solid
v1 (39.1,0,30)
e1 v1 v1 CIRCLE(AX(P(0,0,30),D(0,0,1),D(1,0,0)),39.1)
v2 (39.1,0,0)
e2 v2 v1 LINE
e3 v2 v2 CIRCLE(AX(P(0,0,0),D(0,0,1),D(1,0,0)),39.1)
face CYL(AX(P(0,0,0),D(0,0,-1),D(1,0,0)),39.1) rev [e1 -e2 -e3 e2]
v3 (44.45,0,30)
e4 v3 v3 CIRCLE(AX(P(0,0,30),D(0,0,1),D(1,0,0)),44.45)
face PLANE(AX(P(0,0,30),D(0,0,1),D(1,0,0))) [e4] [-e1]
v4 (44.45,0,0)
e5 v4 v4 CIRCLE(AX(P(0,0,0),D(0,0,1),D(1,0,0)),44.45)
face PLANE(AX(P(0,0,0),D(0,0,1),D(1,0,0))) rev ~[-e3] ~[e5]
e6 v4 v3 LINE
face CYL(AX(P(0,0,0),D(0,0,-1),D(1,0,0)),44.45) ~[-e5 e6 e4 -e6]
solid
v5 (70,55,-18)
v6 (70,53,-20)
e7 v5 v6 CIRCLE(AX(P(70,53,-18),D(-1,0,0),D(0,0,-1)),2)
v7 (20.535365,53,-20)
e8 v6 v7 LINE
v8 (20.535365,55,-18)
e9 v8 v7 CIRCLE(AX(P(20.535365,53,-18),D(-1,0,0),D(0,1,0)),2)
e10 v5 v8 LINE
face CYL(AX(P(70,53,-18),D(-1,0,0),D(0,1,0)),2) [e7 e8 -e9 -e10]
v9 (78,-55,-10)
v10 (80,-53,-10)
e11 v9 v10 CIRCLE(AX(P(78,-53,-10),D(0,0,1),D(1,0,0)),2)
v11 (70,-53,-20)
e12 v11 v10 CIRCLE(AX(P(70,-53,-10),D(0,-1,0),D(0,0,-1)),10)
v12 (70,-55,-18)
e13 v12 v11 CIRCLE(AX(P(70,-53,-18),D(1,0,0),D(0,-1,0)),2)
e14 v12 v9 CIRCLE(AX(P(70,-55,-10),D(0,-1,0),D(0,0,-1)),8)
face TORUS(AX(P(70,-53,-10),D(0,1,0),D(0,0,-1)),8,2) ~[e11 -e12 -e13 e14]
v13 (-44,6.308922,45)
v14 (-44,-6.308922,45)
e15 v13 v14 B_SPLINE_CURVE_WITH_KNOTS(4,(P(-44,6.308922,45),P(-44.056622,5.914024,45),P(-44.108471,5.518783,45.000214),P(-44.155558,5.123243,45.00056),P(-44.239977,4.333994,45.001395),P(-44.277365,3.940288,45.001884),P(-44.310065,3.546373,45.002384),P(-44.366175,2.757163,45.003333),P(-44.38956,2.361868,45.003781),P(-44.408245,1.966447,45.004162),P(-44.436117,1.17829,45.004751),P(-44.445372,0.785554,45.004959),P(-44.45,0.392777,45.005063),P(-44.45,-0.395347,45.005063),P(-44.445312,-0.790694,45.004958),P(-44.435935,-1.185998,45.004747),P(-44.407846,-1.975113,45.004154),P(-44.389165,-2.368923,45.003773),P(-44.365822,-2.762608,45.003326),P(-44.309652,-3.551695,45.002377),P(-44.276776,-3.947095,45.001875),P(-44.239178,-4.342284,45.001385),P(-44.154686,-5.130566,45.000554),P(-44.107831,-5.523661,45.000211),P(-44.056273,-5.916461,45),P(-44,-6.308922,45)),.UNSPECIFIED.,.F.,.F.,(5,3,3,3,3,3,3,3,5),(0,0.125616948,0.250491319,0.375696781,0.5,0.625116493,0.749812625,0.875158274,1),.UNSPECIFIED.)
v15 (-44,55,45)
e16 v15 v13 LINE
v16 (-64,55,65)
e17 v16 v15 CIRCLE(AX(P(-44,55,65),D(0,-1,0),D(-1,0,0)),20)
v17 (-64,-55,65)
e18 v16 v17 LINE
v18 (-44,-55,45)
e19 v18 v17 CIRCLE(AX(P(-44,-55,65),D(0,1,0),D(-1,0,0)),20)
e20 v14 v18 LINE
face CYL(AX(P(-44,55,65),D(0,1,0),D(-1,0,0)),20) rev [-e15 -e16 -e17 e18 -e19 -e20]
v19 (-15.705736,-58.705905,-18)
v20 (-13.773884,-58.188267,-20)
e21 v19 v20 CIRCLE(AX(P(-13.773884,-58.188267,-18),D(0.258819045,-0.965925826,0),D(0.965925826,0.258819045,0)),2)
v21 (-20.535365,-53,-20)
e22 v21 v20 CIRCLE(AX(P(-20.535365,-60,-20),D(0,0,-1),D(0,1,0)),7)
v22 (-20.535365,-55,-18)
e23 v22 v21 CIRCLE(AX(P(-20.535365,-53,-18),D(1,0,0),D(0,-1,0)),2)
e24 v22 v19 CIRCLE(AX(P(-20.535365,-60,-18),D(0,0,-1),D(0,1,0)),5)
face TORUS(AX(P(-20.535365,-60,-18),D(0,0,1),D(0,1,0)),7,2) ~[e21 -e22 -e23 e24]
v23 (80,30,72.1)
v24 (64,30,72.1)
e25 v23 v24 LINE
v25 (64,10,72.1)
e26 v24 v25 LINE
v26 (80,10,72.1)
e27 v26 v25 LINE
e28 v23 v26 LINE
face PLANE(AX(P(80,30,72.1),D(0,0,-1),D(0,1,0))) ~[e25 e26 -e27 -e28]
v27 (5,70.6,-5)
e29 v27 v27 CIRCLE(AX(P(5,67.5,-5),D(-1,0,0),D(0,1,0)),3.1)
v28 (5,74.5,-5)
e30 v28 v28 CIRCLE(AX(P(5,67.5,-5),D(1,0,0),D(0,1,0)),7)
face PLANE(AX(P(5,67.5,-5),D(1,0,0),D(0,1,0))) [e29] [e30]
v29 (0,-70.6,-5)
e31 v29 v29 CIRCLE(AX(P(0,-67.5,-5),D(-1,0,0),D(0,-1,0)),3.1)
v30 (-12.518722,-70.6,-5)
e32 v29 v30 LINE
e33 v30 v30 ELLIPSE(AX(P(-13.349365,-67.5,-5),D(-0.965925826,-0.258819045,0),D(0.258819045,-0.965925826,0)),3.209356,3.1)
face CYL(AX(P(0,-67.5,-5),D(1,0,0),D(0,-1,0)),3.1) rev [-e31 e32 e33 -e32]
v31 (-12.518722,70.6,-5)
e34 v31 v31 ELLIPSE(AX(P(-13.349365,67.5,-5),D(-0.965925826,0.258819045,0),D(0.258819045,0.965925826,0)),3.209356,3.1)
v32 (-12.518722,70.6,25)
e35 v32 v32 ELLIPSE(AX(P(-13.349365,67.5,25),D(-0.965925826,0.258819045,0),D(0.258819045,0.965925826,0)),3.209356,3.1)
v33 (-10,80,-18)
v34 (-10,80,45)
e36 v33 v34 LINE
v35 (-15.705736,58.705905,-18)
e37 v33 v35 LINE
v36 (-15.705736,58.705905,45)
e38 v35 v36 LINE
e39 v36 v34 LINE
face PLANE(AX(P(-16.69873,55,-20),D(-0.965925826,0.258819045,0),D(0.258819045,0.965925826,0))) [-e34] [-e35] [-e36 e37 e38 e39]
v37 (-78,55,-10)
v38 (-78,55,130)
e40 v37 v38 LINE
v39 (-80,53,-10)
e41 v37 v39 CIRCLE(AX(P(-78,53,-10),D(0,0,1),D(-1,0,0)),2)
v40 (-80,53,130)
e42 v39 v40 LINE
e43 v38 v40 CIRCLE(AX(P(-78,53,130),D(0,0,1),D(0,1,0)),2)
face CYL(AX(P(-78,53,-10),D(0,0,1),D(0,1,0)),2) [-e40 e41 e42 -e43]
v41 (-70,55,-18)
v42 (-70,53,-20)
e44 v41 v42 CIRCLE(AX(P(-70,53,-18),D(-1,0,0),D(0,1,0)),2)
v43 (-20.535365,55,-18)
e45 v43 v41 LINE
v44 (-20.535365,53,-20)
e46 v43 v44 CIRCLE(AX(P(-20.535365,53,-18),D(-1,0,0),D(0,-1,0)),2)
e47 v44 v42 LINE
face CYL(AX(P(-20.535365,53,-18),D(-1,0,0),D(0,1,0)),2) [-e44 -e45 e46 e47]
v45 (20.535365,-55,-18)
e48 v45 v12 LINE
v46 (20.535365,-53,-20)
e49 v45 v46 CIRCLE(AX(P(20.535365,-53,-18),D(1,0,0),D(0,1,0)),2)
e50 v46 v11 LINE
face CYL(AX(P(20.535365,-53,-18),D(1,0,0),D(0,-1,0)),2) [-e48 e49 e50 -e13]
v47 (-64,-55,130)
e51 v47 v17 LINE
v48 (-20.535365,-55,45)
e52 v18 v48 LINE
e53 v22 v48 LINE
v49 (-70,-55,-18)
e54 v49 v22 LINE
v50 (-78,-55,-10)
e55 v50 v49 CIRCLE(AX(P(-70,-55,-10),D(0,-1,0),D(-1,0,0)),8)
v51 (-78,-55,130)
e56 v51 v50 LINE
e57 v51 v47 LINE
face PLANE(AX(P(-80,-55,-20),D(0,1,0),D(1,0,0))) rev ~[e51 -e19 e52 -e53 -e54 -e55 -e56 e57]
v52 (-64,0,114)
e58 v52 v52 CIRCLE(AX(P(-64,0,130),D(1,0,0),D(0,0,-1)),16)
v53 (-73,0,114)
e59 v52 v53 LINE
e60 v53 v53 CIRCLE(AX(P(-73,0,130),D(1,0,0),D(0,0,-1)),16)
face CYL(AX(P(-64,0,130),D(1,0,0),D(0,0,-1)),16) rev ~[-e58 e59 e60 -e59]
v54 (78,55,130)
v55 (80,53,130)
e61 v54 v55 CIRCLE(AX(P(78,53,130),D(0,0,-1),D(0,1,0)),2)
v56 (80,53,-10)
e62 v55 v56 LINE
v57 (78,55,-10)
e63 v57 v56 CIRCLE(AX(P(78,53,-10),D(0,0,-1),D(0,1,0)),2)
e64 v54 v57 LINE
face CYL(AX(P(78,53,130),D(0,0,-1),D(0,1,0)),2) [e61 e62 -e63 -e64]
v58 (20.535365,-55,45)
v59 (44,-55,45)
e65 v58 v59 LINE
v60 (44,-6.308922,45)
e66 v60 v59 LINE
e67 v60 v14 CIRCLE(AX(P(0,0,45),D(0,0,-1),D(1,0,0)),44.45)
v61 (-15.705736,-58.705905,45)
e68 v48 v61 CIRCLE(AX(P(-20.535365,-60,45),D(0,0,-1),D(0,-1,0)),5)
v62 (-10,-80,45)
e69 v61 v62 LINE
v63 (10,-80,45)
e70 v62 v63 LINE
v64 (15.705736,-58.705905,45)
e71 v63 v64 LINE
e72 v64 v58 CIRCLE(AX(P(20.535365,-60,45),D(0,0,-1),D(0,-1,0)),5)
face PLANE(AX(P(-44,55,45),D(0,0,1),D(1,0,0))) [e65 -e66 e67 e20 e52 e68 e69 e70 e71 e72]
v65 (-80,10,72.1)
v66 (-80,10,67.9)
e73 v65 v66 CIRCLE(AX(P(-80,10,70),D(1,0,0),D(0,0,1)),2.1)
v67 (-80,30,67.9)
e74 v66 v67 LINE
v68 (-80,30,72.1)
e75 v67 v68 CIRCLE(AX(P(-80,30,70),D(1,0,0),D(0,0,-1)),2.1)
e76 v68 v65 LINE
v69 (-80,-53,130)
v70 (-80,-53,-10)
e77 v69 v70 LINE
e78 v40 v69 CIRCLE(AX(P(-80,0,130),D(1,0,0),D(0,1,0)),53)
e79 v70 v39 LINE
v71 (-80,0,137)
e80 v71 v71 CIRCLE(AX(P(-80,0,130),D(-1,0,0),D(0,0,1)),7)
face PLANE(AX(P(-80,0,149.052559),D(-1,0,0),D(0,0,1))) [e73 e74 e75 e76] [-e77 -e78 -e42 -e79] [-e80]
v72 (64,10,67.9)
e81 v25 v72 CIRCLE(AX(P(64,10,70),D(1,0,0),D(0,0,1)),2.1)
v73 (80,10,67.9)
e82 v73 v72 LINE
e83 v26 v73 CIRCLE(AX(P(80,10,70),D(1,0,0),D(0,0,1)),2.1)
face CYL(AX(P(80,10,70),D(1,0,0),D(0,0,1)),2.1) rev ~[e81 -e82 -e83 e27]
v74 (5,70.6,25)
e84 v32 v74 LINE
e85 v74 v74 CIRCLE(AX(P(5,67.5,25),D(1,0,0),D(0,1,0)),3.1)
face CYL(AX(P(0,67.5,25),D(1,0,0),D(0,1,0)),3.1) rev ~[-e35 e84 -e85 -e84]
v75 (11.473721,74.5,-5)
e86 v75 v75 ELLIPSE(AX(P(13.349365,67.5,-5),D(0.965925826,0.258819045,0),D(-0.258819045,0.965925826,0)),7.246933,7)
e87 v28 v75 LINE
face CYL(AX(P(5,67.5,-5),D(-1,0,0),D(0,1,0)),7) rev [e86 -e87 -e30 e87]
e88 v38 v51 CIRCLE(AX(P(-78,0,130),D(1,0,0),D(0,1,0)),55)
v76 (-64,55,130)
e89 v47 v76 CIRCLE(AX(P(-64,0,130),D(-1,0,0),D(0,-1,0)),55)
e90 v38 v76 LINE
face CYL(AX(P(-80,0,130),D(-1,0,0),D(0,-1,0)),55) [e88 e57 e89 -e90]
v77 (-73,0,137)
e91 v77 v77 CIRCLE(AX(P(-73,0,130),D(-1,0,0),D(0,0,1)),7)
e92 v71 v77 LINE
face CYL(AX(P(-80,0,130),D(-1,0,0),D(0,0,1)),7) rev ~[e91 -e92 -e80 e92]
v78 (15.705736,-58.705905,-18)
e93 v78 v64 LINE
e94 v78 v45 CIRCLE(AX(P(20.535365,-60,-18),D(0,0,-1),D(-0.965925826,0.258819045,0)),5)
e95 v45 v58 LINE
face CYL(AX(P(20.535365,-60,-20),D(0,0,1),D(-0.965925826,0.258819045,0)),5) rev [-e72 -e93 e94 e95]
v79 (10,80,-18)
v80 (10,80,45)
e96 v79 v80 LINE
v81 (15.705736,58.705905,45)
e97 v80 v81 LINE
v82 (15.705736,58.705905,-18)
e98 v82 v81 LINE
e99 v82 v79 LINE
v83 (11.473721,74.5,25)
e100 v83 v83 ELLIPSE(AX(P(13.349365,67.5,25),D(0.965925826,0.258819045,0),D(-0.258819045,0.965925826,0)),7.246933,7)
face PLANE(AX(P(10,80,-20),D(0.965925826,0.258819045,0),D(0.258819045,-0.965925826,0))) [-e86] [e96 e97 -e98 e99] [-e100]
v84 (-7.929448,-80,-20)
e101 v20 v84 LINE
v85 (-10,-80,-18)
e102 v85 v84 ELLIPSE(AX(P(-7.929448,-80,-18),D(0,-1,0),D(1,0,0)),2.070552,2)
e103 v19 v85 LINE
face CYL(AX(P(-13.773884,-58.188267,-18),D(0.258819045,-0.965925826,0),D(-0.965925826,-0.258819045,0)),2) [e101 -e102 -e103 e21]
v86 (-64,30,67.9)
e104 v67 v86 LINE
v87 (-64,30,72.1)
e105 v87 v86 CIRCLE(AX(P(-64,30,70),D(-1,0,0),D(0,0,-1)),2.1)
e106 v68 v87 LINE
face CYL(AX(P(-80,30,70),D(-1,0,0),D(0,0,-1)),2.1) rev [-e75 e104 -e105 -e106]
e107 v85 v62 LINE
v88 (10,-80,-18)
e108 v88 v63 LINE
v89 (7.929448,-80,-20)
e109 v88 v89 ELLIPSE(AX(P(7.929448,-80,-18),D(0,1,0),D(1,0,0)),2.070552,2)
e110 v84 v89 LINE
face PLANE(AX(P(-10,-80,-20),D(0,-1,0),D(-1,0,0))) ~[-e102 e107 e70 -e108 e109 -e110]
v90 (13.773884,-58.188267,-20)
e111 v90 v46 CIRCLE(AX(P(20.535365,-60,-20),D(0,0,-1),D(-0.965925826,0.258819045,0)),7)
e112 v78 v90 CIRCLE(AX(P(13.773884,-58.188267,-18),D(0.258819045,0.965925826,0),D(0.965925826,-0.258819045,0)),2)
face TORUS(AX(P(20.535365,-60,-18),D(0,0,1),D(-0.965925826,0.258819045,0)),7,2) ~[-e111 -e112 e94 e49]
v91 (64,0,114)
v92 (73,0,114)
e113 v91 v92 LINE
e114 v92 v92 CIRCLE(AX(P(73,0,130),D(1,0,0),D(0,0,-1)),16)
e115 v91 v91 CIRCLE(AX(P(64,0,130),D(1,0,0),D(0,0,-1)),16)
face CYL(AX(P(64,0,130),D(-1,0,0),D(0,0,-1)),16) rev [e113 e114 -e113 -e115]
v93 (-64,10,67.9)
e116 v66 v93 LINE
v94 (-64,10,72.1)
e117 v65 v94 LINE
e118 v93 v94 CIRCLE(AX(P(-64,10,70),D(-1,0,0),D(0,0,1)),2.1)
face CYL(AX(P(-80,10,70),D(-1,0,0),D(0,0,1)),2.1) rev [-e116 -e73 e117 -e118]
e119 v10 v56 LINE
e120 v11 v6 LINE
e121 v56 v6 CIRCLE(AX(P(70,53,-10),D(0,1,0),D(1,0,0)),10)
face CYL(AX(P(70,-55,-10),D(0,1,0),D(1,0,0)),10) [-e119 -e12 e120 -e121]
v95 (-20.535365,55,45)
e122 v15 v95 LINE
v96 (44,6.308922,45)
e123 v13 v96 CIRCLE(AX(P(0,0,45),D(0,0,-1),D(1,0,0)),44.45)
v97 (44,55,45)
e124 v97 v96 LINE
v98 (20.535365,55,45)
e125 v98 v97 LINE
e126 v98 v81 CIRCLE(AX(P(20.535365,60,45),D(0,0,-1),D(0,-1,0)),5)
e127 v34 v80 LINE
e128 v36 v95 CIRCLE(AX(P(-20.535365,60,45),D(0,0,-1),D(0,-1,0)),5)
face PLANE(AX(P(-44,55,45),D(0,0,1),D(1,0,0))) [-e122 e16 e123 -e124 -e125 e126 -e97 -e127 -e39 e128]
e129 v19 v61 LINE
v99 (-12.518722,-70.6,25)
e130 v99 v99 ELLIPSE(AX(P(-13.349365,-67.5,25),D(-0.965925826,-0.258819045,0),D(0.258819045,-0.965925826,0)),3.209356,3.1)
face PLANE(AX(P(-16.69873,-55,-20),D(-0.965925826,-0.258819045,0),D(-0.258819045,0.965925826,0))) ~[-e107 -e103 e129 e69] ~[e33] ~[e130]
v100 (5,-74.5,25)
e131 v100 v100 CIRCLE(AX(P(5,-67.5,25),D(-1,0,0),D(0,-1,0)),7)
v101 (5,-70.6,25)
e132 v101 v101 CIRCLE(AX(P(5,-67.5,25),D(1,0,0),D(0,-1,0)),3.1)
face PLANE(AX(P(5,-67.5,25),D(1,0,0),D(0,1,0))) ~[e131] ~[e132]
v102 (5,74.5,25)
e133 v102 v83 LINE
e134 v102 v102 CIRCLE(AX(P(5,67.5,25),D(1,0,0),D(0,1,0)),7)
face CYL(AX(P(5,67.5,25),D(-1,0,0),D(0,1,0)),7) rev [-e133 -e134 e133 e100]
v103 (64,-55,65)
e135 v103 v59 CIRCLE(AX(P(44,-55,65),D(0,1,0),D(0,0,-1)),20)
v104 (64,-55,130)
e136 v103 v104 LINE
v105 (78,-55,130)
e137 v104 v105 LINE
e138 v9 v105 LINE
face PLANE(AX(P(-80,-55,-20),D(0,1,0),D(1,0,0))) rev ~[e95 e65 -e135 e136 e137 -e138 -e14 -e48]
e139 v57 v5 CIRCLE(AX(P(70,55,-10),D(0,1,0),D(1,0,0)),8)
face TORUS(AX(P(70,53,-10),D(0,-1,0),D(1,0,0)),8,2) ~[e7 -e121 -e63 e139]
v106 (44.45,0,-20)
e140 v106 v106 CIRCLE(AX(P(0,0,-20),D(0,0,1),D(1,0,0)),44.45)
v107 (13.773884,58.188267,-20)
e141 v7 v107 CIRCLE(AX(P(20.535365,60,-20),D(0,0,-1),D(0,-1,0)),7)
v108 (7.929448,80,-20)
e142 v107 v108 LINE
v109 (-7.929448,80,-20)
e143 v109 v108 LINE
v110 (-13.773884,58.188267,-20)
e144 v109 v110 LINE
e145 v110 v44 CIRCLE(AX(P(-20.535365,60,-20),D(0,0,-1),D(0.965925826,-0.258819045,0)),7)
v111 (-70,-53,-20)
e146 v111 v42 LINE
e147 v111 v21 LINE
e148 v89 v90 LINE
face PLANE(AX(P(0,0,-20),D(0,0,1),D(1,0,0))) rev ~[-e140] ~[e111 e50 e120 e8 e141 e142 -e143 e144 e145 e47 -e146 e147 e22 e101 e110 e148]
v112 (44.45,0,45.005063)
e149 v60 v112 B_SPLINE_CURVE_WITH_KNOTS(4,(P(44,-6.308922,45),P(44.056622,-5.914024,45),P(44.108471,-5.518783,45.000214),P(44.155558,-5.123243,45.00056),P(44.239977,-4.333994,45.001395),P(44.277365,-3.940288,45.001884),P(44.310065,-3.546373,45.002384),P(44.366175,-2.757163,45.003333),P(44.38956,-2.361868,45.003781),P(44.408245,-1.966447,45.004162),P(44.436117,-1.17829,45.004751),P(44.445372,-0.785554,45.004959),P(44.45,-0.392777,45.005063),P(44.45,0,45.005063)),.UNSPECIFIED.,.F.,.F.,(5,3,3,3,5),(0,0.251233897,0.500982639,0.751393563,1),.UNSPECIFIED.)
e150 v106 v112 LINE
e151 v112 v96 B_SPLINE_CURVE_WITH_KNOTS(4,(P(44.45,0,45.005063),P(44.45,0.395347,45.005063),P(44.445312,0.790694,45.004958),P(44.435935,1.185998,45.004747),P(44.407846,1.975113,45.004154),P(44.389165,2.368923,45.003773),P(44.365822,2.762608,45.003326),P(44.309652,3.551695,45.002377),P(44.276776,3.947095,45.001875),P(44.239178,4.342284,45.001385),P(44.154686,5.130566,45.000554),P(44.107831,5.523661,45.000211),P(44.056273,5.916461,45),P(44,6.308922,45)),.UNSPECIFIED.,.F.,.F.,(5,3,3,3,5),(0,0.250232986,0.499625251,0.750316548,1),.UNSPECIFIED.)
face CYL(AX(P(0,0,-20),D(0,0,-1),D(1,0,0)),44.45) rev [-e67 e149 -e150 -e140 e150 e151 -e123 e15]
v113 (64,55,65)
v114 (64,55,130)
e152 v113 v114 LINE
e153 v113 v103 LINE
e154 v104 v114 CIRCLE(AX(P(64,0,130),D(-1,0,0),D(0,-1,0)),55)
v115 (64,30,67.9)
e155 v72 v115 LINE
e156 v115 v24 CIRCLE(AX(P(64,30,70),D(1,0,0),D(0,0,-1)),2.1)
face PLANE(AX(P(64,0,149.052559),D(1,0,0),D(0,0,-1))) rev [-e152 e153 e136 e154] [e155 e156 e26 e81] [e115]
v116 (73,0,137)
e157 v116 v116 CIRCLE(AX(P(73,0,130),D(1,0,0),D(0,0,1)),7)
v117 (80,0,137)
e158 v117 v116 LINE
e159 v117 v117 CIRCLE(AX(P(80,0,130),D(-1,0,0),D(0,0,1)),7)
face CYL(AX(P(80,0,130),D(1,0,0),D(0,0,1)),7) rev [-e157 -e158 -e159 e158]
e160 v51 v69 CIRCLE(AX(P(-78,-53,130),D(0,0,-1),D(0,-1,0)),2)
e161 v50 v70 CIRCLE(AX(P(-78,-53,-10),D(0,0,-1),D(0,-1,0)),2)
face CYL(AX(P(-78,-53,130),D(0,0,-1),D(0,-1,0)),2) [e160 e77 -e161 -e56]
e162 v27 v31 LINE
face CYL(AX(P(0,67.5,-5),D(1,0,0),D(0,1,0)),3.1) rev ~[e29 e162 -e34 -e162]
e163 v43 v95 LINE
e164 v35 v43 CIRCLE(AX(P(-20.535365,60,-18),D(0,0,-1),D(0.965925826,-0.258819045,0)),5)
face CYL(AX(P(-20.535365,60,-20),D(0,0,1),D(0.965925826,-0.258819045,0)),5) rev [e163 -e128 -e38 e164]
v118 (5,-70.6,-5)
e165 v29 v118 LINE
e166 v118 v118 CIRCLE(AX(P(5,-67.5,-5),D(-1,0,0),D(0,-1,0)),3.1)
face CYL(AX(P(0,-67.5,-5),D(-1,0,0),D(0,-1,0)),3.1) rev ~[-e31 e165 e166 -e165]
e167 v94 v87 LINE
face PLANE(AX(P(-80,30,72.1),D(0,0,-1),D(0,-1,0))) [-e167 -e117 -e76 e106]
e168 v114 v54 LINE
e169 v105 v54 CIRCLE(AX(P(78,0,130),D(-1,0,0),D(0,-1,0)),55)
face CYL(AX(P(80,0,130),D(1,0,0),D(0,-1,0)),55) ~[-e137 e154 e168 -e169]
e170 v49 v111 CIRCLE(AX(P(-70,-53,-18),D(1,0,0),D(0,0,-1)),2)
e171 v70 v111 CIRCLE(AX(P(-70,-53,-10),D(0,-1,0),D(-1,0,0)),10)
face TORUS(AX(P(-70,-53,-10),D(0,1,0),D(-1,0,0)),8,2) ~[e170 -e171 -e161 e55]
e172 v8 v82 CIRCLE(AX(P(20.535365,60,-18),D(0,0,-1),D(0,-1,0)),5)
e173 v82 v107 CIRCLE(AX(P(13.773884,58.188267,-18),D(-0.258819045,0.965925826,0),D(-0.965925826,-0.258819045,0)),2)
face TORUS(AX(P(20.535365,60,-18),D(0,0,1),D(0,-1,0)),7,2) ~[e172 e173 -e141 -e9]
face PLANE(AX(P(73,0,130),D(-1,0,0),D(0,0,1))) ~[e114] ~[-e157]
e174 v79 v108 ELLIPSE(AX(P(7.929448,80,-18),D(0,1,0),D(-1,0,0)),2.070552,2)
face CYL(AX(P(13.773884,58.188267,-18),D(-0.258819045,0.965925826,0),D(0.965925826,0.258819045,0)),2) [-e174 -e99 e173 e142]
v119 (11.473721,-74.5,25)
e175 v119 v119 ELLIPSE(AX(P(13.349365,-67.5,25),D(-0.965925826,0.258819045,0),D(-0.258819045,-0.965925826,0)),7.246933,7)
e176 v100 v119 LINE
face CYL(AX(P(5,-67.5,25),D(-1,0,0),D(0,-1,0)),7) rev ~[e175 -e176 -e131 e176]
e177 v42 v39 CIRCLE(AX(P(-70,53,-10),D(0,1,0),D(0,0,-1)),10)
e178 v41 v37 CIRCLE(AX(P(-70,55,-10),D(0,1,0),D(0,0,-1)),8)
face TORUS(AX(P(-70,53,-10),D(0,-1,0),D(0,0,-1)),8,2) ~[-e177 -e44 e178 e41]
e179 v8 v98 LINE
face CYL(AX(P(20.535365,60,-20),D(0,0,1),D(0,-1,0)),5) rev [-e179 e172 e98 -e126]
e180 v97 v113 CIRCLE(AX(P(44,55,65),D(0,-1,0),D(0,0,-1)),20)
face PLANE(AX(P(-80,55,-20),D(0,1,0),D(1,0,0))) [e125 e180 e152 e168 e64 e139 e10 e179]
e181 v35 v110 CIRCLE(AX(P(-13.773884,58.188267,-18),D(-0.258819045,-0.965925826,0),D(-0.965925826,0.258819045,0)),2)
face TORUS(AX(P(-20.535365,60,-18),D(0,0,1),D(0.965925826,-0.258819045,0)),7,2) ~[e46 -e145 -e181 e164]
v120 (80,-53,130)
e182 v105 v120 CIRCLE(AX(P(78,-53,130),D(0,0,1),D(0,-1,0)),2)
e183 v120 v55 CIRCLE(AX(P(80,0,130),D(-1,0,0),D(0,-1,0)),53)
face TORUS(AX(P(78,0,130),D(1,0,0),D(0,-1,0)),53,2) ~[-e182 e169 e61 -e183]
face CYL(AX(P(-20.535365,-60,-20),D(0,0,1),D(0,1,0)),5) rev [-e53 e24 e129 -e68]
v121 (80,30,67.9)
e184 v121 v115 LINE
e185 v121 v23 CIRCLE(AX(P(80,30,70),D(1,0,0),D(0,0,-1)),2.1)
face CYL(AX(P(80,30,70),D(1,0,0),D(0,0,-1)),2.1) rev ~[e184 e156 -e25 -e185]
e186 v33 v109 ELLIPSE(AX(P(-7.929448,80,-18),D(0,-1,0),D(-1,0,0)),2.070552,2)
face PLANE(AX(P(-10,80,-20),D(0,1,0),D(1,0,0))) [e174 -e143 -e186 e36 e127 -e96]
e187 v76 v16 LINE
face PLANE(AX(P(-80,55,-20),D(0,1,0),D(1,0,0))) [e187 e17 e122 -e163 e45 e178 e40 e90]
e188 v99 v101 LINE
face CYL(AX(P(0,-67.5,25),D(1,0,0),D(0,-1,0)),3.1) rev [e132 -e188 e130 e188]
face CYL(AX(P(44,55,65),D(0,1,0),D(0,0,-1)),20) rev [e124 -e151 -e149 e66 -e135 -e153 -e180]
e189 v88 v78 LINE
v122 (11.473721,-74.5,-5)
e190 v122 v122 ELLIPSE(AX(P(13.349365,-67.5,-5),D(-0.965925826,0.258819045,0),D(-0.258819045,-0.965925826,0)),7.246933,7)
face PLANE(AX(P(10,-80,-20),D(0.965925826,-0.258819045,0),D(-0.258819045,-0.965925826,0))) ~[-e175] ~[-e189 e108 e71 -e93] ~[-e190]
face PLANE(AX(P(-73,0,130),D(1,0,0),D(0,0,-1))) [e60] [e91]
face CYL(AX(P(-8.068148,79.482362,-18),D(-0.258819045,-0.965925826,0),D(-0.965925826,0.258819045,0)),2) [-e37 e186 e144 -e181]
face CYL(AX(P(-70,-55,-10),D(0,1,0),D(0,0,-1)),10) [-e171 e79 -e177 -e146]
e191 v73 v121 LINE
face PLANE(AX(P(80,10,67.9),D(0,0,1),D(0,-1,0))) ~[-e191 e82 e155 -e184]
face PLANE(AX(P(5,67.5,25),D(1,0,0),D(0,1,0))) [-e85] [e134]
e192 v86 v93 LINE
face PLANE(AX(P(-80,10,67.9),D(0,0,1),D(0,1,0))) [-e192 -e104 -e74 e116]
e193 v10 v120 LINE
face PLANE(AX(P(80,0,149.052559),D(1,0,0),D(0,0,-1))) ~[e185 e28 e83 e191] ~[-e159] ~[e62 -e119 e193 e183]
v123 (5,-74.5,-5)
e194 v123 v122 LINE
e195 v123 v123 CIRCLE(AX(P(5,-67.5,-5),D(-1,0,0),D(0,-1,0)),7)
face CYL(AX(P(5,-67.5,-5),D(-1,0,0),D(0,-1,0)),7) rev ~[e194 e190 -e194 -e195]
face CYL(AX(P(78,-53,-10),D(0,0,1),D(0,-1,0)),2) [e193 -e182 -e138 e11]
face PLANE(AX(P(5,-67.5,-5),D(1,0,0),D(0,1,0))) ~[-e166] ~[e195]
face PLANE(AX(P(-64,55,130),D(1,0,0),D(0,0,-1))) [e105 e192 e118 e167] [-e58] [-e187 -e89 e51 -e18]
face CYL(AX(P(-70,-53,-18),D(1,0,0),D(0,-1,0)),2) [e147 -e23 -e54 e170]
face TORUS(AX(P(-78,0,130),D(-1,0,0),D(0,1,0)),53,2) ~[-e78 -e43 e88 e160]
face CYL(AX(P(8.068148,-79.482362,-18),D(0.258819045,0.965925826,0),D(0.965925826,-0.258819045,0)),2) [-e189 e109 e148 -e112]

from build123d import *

# Parameters (mm, degrees)
SKETCH1_R                 = 44.45
SKETCH1_R_2               = 39.1
CENTRE_HOLE_FOR_L2_DEPTH  = 30
MAIN_STRUCTURE_DEPTH      = 100
MAIN_STRUCTURE_DEPTH_BACK = 50
SKETCH2_W                 = 160
SKETCH2_H                 = 110
SKETCH2_R                 = 44.45
BEARING_CURVE_DEPTH       = 16
SKETCH6_R                 = 7
SHAFT_HOLE_DEPTH          = 16
WRIST_CUTOUT_DEPTH        = 230.619250064
SKETCH9_R                 = 16
BEARING_DEPTH             = 9
FILLET2_R                 = 10
BOLT_STRUCTURE_DEPTH      = 65
SKETCH11_R                = 3.1
CUT_EXTRUDE6_DEPTH        = 217.852484422
CUT_EXTRUDE8_REACH        = 223.852
CUT_EXTRUDE8_START        = 5
SKETCH13_R                = 7
FILLET3_R                 = 5
FILLET1_R                 = 2
TENSIONER_SLOT_DEPTH      = 144


with BuildPart() as part:
    # Sketch1 → Centre Hole for L2 (new body)
    with BuildSketch(Plane.XY):
        Circle(SKETCH1_R)
        Circle(SKETCH1_R_2, mode=Mode.SUBTRACT)
    extrude(amount=CENTRE_HOLE_FOR_L2_DEPTH)


with BuildPart() as body_2:
    # Sketch2 → Main Structure (new, two sides: drawn at the far end of the back side and taken through both)
    with BuildSketch(Plane.XY.offset(30).offset(-MAIN_STRUCTURE_DEPTH_BACK)):
        Rectangle(SKETCH2_W, SKETCH2_H)
        Circle(SKETCH2_R, mode=Mode.SUBTRACT)
    extrude(amount=MAIN_STRUCTURE_DEPTH + MAIN_STRUCTURE_DEPTH_BACK)

    # Sketch3 → Bearing Curve (add)
    with BuildSketch(Plane.ZY.offset(80)):
        with BuildLine():
            Line((130, 55), (130, -55))
            ThreePointArc((130, -55), (185, 0), (130, 55))
        make_face()
    bearing_curve = extrude(amount=-BEARING_CURVE_DEPTH)

    # Upright Mirror: Bearing Curve across plane
    add(bearing_curve.mirror(Plane(origin=(0, 0, 0), x_dir=(0, 0, 1), z_dir=(1, 0, 0))))

    # Sketch6 → Shaft Hole (cut)
    with BuildSketch(Plane.ZY.offset(80)):
        with Locations((130, 0)):
            Circle(SKETCH6_R)
    shaft_hole = extrude(amount=-SHAFT_HOLE_DEPTH, mode=Mode.SUBTRACT)

    # Sketch4 → Wrist Cutout (cut, through all)
    with BuildSketch(Plane(origin=(0, 55, 0), x_dir=(1, 0, 0), z_dir=(0, 1, 0))):
        with BuildLine():
            Line((-64, -130), (-64, -65))
            ThreePointArc((-64, -65), (-58.142135624, -50.857864376), (-44, -45))
            Line((-44, -45), (44, -45))
            ThreePointArc((44, -45), (58.142135624, -50.857864376), (64, -65))
            Line((64, -65), (64, -130))
            Line((64, -130), (-64, -130))
        make_face()
    extrude(amount=-WRIST_CUTOUT_DEPTH, mode=Mode.SUBTRACT)

    # Sketch9 → Bearing (cut)
    with BuildSketch(Plane(origin=(-64, 0, 0), x_dir=(0, 0, -1), z_dir=(1, 0, 0))):
        with Locations((-130, 0)):
            Circle(SKETCH9_R)
    bearing = extrude(amount=-BEARING_DEPTH, mode=Mode.SUBTRACT)

    # Bearing Mirror: Shaft Hole, Bearing across plane
    add(shaft_hole.mirror(Plane(origin=(0, 0, 0), x_dir=(0, 0, 1), z_dir=(1, 0, 0))), mode=Mode.SUBTRACT)
    add(bearing.mirror(Plane(origin=(0, 0, 0), x_dir=(0, 0, 1), z_dir=(1, 0, 0))), mode=Mode.SUBTRACT)

    # Fillet2
    fillet2_edges = [body_2.edges().sort_by_distance(p)[0] for p in [
        (-80, 0, -20),
        (80, 0, -20),
    ]]
    fillet(fillet2_edges, radius=FILLET2_R)

    # Sketch10 → Bolt Structure (add)
    with BuildSketch(Plane(origin=(0, 0, -20), x_dir=(-1, 0, 0), z_dir=(0, 0, -1))):
        Polygon((10, 80), (-10, 80), (-16.698729811, 55), (16.698729811, 55), align=None)
    bolt_structure = extrude(amount=-BOLT_STRUCTURE_DEPTH)

    # Sketch11 → Cut-Extrude6 (cut, symmetric)
    with BuildSketch(Plane(origin=(0, 0, 0), x_dir=(0, 0, -1), z_dir=(1, 0, 0))):
        with Locations(Location((5, 67.5, 0), (0, 0, 90))):
            Circle(SKETCH11_R)
        with Locations(Location((-25, 67.5, 0), (0, 0, 90))):
            Circle(SKETCH11_R)
    cut_extrude6 = extrude(amount=CUT_EXTRUDE6_DEPTH, both=True, mode=Mode.SUBTRACT)

    # Cut-Extrude8: up to this plane
    cut_extrude8_end = Plane(origin=(10, 80, 86.71798544), z_dir=(0.9659258262890692, 0.2588190451025176, 0))
    # Sketch13 → Cut-Extrude8 (cut, up to the surface)
    with BuildSketch(Plane(origin=(0, 0, 0), x_dir=(0, 0, -1), z_dir=(1, 0, 0)).offset(CUT_EXTRUDE8_START), mode=Mode.PRIVATE) as cut_extrude8_sk1:
        with Locations(Location((5, 67.5, 0), (0, 0, 90))):
            Circle(SKETCH13_R)
    cut_extrude8_tool1 = split(extrude(cut_extrude8_sk1.sketch, amount=CUT_EXTRUDE8_REACH, mode=Mode.PRIVATE), bisect_by=cut_extrude8_end, keep=Keep.BOTH, mode=Mode.PRIVATE)
    # Sketch13 → Cut-Extrude8 (cut, up to the surface)
    with BuildSketch(Plane(origin=(0, 0, 0), x_dir=(0, 0, -1), z_dir=(1, 0, 0)).offset(CUT_EXTRUDE8_START), mode=Mode.PRIVATE) as cut_extrude8_sk2:
        with Locations(Location((-25, 67.5, 0), (0, 0, 90))):
            Circle(SKETCH13_R)
    cut_extrude8_tool2 = split(extrude(cut_extrude8_sk2.sketch, amount=CUT_EXTRUDE8_REACH, mode=Mode.PRIVATE), bisect_by=cut_extrude8_end, keep=Keep.BOTH, mode=Mode.PRIVATE)
    cut_extrude8 = cut_extrude8_tool1.solids().sort_by_distance((5, 67.5, -5))[0] + cut_extrude8_tool2.solids().sort_by_distance((5, 67.5, 25))[0]
    add(cut_extrude8, mode=Mode.SUBTRACT)

    # Mirror8: Bolt Structure, Cut-Extrude6, Cut-Extrude8 across plane
    add(bolt_structure.mirror(Plane.ZX))
    add(cut_extrude6.mirror(Plane.ZX), mode=Mode.SUBTRACT)
    add(cut_extrude8.mirror(Plane.ZX), mode=Mode.SUBTRACT)

    # Fillet3
    fillet3_edges = [body_2.edges().sort_by_distance(p)[0] for p in [
        (-16.698729811, 55, 12.5),
        (16.698729811, 55, 12.5),
        (16.698729811, -55, 12.5),
        (-16.698729811, -55, 12.5),
    ]]
    fillet(fillet3_edges, radius=FILLET3_R)

    # Fillet1
    fillet1_edges = [body_2.edges().sort_by_distance(p)[0] for p in [
        (-45.267682375, -55, -20),
        (80, -55, 60),
        (77.071067812, -55, -17.071067812),
        (-77.071067812, -55, -17.071067812),
        (-45.267682375, 55, -20),
        (80, 55, 60),
        (77.071067812, 55, -17.071067812),
        (-77.071067812, 55, -17.071067812),
        (12.85286781, 69.352952387, -20),
        (12.85286781, -69.352952387, -20),
        (-12.85286781, -69.352952387, -20),
        (45.267682375, -55, -20),
        (-12.85286781, 69.352952387, -20),
        (45.267682375, 55, -20),
        (-17.491557606, -56.033233299, -20),
        (17.491557606, -56.033233299, -20),
        (-17.491557606, 56.033233299, -20),
        (17.491557606, 56.033233299, -20),
        (-80, 0, 185),
        (80, 0, 185),
        (-80, -55, 60),
        (-80, 55, 60),
    ]]
    fillet(fillet1_edges, radius=FILLET1_R)

    # Sketch14 → Tensioner Slot (cut)
    with BuildSketch(Plane.ZY.offset(80)):
        with BuildLine():
            Line((72.1, 30), (72.1, 10))
            ThreePointArc((72.1, 10), (70, 7.9), (67.9, 10))
            Line((67.9, 10), (67.9, 30))
            ThreePointArc((67.9, 30), (70, 32.1), (72.1, 30))
        make_face()
    tensioner_slot = extrude(amount=-TENSIONER_SLOT_DEPTH, mode=Mode.SUBTRACT)

    # Mirror9: Tensioner Slot across plane
    add(tensioner_slot.mirror(Plane(origin=(0, 0, 0), x_dir=(0, 0, 1), z_dir=(1, 0, 0))), mode=Mode.SUBTRACT)


solid = Compound([part.part, body_2.part])
